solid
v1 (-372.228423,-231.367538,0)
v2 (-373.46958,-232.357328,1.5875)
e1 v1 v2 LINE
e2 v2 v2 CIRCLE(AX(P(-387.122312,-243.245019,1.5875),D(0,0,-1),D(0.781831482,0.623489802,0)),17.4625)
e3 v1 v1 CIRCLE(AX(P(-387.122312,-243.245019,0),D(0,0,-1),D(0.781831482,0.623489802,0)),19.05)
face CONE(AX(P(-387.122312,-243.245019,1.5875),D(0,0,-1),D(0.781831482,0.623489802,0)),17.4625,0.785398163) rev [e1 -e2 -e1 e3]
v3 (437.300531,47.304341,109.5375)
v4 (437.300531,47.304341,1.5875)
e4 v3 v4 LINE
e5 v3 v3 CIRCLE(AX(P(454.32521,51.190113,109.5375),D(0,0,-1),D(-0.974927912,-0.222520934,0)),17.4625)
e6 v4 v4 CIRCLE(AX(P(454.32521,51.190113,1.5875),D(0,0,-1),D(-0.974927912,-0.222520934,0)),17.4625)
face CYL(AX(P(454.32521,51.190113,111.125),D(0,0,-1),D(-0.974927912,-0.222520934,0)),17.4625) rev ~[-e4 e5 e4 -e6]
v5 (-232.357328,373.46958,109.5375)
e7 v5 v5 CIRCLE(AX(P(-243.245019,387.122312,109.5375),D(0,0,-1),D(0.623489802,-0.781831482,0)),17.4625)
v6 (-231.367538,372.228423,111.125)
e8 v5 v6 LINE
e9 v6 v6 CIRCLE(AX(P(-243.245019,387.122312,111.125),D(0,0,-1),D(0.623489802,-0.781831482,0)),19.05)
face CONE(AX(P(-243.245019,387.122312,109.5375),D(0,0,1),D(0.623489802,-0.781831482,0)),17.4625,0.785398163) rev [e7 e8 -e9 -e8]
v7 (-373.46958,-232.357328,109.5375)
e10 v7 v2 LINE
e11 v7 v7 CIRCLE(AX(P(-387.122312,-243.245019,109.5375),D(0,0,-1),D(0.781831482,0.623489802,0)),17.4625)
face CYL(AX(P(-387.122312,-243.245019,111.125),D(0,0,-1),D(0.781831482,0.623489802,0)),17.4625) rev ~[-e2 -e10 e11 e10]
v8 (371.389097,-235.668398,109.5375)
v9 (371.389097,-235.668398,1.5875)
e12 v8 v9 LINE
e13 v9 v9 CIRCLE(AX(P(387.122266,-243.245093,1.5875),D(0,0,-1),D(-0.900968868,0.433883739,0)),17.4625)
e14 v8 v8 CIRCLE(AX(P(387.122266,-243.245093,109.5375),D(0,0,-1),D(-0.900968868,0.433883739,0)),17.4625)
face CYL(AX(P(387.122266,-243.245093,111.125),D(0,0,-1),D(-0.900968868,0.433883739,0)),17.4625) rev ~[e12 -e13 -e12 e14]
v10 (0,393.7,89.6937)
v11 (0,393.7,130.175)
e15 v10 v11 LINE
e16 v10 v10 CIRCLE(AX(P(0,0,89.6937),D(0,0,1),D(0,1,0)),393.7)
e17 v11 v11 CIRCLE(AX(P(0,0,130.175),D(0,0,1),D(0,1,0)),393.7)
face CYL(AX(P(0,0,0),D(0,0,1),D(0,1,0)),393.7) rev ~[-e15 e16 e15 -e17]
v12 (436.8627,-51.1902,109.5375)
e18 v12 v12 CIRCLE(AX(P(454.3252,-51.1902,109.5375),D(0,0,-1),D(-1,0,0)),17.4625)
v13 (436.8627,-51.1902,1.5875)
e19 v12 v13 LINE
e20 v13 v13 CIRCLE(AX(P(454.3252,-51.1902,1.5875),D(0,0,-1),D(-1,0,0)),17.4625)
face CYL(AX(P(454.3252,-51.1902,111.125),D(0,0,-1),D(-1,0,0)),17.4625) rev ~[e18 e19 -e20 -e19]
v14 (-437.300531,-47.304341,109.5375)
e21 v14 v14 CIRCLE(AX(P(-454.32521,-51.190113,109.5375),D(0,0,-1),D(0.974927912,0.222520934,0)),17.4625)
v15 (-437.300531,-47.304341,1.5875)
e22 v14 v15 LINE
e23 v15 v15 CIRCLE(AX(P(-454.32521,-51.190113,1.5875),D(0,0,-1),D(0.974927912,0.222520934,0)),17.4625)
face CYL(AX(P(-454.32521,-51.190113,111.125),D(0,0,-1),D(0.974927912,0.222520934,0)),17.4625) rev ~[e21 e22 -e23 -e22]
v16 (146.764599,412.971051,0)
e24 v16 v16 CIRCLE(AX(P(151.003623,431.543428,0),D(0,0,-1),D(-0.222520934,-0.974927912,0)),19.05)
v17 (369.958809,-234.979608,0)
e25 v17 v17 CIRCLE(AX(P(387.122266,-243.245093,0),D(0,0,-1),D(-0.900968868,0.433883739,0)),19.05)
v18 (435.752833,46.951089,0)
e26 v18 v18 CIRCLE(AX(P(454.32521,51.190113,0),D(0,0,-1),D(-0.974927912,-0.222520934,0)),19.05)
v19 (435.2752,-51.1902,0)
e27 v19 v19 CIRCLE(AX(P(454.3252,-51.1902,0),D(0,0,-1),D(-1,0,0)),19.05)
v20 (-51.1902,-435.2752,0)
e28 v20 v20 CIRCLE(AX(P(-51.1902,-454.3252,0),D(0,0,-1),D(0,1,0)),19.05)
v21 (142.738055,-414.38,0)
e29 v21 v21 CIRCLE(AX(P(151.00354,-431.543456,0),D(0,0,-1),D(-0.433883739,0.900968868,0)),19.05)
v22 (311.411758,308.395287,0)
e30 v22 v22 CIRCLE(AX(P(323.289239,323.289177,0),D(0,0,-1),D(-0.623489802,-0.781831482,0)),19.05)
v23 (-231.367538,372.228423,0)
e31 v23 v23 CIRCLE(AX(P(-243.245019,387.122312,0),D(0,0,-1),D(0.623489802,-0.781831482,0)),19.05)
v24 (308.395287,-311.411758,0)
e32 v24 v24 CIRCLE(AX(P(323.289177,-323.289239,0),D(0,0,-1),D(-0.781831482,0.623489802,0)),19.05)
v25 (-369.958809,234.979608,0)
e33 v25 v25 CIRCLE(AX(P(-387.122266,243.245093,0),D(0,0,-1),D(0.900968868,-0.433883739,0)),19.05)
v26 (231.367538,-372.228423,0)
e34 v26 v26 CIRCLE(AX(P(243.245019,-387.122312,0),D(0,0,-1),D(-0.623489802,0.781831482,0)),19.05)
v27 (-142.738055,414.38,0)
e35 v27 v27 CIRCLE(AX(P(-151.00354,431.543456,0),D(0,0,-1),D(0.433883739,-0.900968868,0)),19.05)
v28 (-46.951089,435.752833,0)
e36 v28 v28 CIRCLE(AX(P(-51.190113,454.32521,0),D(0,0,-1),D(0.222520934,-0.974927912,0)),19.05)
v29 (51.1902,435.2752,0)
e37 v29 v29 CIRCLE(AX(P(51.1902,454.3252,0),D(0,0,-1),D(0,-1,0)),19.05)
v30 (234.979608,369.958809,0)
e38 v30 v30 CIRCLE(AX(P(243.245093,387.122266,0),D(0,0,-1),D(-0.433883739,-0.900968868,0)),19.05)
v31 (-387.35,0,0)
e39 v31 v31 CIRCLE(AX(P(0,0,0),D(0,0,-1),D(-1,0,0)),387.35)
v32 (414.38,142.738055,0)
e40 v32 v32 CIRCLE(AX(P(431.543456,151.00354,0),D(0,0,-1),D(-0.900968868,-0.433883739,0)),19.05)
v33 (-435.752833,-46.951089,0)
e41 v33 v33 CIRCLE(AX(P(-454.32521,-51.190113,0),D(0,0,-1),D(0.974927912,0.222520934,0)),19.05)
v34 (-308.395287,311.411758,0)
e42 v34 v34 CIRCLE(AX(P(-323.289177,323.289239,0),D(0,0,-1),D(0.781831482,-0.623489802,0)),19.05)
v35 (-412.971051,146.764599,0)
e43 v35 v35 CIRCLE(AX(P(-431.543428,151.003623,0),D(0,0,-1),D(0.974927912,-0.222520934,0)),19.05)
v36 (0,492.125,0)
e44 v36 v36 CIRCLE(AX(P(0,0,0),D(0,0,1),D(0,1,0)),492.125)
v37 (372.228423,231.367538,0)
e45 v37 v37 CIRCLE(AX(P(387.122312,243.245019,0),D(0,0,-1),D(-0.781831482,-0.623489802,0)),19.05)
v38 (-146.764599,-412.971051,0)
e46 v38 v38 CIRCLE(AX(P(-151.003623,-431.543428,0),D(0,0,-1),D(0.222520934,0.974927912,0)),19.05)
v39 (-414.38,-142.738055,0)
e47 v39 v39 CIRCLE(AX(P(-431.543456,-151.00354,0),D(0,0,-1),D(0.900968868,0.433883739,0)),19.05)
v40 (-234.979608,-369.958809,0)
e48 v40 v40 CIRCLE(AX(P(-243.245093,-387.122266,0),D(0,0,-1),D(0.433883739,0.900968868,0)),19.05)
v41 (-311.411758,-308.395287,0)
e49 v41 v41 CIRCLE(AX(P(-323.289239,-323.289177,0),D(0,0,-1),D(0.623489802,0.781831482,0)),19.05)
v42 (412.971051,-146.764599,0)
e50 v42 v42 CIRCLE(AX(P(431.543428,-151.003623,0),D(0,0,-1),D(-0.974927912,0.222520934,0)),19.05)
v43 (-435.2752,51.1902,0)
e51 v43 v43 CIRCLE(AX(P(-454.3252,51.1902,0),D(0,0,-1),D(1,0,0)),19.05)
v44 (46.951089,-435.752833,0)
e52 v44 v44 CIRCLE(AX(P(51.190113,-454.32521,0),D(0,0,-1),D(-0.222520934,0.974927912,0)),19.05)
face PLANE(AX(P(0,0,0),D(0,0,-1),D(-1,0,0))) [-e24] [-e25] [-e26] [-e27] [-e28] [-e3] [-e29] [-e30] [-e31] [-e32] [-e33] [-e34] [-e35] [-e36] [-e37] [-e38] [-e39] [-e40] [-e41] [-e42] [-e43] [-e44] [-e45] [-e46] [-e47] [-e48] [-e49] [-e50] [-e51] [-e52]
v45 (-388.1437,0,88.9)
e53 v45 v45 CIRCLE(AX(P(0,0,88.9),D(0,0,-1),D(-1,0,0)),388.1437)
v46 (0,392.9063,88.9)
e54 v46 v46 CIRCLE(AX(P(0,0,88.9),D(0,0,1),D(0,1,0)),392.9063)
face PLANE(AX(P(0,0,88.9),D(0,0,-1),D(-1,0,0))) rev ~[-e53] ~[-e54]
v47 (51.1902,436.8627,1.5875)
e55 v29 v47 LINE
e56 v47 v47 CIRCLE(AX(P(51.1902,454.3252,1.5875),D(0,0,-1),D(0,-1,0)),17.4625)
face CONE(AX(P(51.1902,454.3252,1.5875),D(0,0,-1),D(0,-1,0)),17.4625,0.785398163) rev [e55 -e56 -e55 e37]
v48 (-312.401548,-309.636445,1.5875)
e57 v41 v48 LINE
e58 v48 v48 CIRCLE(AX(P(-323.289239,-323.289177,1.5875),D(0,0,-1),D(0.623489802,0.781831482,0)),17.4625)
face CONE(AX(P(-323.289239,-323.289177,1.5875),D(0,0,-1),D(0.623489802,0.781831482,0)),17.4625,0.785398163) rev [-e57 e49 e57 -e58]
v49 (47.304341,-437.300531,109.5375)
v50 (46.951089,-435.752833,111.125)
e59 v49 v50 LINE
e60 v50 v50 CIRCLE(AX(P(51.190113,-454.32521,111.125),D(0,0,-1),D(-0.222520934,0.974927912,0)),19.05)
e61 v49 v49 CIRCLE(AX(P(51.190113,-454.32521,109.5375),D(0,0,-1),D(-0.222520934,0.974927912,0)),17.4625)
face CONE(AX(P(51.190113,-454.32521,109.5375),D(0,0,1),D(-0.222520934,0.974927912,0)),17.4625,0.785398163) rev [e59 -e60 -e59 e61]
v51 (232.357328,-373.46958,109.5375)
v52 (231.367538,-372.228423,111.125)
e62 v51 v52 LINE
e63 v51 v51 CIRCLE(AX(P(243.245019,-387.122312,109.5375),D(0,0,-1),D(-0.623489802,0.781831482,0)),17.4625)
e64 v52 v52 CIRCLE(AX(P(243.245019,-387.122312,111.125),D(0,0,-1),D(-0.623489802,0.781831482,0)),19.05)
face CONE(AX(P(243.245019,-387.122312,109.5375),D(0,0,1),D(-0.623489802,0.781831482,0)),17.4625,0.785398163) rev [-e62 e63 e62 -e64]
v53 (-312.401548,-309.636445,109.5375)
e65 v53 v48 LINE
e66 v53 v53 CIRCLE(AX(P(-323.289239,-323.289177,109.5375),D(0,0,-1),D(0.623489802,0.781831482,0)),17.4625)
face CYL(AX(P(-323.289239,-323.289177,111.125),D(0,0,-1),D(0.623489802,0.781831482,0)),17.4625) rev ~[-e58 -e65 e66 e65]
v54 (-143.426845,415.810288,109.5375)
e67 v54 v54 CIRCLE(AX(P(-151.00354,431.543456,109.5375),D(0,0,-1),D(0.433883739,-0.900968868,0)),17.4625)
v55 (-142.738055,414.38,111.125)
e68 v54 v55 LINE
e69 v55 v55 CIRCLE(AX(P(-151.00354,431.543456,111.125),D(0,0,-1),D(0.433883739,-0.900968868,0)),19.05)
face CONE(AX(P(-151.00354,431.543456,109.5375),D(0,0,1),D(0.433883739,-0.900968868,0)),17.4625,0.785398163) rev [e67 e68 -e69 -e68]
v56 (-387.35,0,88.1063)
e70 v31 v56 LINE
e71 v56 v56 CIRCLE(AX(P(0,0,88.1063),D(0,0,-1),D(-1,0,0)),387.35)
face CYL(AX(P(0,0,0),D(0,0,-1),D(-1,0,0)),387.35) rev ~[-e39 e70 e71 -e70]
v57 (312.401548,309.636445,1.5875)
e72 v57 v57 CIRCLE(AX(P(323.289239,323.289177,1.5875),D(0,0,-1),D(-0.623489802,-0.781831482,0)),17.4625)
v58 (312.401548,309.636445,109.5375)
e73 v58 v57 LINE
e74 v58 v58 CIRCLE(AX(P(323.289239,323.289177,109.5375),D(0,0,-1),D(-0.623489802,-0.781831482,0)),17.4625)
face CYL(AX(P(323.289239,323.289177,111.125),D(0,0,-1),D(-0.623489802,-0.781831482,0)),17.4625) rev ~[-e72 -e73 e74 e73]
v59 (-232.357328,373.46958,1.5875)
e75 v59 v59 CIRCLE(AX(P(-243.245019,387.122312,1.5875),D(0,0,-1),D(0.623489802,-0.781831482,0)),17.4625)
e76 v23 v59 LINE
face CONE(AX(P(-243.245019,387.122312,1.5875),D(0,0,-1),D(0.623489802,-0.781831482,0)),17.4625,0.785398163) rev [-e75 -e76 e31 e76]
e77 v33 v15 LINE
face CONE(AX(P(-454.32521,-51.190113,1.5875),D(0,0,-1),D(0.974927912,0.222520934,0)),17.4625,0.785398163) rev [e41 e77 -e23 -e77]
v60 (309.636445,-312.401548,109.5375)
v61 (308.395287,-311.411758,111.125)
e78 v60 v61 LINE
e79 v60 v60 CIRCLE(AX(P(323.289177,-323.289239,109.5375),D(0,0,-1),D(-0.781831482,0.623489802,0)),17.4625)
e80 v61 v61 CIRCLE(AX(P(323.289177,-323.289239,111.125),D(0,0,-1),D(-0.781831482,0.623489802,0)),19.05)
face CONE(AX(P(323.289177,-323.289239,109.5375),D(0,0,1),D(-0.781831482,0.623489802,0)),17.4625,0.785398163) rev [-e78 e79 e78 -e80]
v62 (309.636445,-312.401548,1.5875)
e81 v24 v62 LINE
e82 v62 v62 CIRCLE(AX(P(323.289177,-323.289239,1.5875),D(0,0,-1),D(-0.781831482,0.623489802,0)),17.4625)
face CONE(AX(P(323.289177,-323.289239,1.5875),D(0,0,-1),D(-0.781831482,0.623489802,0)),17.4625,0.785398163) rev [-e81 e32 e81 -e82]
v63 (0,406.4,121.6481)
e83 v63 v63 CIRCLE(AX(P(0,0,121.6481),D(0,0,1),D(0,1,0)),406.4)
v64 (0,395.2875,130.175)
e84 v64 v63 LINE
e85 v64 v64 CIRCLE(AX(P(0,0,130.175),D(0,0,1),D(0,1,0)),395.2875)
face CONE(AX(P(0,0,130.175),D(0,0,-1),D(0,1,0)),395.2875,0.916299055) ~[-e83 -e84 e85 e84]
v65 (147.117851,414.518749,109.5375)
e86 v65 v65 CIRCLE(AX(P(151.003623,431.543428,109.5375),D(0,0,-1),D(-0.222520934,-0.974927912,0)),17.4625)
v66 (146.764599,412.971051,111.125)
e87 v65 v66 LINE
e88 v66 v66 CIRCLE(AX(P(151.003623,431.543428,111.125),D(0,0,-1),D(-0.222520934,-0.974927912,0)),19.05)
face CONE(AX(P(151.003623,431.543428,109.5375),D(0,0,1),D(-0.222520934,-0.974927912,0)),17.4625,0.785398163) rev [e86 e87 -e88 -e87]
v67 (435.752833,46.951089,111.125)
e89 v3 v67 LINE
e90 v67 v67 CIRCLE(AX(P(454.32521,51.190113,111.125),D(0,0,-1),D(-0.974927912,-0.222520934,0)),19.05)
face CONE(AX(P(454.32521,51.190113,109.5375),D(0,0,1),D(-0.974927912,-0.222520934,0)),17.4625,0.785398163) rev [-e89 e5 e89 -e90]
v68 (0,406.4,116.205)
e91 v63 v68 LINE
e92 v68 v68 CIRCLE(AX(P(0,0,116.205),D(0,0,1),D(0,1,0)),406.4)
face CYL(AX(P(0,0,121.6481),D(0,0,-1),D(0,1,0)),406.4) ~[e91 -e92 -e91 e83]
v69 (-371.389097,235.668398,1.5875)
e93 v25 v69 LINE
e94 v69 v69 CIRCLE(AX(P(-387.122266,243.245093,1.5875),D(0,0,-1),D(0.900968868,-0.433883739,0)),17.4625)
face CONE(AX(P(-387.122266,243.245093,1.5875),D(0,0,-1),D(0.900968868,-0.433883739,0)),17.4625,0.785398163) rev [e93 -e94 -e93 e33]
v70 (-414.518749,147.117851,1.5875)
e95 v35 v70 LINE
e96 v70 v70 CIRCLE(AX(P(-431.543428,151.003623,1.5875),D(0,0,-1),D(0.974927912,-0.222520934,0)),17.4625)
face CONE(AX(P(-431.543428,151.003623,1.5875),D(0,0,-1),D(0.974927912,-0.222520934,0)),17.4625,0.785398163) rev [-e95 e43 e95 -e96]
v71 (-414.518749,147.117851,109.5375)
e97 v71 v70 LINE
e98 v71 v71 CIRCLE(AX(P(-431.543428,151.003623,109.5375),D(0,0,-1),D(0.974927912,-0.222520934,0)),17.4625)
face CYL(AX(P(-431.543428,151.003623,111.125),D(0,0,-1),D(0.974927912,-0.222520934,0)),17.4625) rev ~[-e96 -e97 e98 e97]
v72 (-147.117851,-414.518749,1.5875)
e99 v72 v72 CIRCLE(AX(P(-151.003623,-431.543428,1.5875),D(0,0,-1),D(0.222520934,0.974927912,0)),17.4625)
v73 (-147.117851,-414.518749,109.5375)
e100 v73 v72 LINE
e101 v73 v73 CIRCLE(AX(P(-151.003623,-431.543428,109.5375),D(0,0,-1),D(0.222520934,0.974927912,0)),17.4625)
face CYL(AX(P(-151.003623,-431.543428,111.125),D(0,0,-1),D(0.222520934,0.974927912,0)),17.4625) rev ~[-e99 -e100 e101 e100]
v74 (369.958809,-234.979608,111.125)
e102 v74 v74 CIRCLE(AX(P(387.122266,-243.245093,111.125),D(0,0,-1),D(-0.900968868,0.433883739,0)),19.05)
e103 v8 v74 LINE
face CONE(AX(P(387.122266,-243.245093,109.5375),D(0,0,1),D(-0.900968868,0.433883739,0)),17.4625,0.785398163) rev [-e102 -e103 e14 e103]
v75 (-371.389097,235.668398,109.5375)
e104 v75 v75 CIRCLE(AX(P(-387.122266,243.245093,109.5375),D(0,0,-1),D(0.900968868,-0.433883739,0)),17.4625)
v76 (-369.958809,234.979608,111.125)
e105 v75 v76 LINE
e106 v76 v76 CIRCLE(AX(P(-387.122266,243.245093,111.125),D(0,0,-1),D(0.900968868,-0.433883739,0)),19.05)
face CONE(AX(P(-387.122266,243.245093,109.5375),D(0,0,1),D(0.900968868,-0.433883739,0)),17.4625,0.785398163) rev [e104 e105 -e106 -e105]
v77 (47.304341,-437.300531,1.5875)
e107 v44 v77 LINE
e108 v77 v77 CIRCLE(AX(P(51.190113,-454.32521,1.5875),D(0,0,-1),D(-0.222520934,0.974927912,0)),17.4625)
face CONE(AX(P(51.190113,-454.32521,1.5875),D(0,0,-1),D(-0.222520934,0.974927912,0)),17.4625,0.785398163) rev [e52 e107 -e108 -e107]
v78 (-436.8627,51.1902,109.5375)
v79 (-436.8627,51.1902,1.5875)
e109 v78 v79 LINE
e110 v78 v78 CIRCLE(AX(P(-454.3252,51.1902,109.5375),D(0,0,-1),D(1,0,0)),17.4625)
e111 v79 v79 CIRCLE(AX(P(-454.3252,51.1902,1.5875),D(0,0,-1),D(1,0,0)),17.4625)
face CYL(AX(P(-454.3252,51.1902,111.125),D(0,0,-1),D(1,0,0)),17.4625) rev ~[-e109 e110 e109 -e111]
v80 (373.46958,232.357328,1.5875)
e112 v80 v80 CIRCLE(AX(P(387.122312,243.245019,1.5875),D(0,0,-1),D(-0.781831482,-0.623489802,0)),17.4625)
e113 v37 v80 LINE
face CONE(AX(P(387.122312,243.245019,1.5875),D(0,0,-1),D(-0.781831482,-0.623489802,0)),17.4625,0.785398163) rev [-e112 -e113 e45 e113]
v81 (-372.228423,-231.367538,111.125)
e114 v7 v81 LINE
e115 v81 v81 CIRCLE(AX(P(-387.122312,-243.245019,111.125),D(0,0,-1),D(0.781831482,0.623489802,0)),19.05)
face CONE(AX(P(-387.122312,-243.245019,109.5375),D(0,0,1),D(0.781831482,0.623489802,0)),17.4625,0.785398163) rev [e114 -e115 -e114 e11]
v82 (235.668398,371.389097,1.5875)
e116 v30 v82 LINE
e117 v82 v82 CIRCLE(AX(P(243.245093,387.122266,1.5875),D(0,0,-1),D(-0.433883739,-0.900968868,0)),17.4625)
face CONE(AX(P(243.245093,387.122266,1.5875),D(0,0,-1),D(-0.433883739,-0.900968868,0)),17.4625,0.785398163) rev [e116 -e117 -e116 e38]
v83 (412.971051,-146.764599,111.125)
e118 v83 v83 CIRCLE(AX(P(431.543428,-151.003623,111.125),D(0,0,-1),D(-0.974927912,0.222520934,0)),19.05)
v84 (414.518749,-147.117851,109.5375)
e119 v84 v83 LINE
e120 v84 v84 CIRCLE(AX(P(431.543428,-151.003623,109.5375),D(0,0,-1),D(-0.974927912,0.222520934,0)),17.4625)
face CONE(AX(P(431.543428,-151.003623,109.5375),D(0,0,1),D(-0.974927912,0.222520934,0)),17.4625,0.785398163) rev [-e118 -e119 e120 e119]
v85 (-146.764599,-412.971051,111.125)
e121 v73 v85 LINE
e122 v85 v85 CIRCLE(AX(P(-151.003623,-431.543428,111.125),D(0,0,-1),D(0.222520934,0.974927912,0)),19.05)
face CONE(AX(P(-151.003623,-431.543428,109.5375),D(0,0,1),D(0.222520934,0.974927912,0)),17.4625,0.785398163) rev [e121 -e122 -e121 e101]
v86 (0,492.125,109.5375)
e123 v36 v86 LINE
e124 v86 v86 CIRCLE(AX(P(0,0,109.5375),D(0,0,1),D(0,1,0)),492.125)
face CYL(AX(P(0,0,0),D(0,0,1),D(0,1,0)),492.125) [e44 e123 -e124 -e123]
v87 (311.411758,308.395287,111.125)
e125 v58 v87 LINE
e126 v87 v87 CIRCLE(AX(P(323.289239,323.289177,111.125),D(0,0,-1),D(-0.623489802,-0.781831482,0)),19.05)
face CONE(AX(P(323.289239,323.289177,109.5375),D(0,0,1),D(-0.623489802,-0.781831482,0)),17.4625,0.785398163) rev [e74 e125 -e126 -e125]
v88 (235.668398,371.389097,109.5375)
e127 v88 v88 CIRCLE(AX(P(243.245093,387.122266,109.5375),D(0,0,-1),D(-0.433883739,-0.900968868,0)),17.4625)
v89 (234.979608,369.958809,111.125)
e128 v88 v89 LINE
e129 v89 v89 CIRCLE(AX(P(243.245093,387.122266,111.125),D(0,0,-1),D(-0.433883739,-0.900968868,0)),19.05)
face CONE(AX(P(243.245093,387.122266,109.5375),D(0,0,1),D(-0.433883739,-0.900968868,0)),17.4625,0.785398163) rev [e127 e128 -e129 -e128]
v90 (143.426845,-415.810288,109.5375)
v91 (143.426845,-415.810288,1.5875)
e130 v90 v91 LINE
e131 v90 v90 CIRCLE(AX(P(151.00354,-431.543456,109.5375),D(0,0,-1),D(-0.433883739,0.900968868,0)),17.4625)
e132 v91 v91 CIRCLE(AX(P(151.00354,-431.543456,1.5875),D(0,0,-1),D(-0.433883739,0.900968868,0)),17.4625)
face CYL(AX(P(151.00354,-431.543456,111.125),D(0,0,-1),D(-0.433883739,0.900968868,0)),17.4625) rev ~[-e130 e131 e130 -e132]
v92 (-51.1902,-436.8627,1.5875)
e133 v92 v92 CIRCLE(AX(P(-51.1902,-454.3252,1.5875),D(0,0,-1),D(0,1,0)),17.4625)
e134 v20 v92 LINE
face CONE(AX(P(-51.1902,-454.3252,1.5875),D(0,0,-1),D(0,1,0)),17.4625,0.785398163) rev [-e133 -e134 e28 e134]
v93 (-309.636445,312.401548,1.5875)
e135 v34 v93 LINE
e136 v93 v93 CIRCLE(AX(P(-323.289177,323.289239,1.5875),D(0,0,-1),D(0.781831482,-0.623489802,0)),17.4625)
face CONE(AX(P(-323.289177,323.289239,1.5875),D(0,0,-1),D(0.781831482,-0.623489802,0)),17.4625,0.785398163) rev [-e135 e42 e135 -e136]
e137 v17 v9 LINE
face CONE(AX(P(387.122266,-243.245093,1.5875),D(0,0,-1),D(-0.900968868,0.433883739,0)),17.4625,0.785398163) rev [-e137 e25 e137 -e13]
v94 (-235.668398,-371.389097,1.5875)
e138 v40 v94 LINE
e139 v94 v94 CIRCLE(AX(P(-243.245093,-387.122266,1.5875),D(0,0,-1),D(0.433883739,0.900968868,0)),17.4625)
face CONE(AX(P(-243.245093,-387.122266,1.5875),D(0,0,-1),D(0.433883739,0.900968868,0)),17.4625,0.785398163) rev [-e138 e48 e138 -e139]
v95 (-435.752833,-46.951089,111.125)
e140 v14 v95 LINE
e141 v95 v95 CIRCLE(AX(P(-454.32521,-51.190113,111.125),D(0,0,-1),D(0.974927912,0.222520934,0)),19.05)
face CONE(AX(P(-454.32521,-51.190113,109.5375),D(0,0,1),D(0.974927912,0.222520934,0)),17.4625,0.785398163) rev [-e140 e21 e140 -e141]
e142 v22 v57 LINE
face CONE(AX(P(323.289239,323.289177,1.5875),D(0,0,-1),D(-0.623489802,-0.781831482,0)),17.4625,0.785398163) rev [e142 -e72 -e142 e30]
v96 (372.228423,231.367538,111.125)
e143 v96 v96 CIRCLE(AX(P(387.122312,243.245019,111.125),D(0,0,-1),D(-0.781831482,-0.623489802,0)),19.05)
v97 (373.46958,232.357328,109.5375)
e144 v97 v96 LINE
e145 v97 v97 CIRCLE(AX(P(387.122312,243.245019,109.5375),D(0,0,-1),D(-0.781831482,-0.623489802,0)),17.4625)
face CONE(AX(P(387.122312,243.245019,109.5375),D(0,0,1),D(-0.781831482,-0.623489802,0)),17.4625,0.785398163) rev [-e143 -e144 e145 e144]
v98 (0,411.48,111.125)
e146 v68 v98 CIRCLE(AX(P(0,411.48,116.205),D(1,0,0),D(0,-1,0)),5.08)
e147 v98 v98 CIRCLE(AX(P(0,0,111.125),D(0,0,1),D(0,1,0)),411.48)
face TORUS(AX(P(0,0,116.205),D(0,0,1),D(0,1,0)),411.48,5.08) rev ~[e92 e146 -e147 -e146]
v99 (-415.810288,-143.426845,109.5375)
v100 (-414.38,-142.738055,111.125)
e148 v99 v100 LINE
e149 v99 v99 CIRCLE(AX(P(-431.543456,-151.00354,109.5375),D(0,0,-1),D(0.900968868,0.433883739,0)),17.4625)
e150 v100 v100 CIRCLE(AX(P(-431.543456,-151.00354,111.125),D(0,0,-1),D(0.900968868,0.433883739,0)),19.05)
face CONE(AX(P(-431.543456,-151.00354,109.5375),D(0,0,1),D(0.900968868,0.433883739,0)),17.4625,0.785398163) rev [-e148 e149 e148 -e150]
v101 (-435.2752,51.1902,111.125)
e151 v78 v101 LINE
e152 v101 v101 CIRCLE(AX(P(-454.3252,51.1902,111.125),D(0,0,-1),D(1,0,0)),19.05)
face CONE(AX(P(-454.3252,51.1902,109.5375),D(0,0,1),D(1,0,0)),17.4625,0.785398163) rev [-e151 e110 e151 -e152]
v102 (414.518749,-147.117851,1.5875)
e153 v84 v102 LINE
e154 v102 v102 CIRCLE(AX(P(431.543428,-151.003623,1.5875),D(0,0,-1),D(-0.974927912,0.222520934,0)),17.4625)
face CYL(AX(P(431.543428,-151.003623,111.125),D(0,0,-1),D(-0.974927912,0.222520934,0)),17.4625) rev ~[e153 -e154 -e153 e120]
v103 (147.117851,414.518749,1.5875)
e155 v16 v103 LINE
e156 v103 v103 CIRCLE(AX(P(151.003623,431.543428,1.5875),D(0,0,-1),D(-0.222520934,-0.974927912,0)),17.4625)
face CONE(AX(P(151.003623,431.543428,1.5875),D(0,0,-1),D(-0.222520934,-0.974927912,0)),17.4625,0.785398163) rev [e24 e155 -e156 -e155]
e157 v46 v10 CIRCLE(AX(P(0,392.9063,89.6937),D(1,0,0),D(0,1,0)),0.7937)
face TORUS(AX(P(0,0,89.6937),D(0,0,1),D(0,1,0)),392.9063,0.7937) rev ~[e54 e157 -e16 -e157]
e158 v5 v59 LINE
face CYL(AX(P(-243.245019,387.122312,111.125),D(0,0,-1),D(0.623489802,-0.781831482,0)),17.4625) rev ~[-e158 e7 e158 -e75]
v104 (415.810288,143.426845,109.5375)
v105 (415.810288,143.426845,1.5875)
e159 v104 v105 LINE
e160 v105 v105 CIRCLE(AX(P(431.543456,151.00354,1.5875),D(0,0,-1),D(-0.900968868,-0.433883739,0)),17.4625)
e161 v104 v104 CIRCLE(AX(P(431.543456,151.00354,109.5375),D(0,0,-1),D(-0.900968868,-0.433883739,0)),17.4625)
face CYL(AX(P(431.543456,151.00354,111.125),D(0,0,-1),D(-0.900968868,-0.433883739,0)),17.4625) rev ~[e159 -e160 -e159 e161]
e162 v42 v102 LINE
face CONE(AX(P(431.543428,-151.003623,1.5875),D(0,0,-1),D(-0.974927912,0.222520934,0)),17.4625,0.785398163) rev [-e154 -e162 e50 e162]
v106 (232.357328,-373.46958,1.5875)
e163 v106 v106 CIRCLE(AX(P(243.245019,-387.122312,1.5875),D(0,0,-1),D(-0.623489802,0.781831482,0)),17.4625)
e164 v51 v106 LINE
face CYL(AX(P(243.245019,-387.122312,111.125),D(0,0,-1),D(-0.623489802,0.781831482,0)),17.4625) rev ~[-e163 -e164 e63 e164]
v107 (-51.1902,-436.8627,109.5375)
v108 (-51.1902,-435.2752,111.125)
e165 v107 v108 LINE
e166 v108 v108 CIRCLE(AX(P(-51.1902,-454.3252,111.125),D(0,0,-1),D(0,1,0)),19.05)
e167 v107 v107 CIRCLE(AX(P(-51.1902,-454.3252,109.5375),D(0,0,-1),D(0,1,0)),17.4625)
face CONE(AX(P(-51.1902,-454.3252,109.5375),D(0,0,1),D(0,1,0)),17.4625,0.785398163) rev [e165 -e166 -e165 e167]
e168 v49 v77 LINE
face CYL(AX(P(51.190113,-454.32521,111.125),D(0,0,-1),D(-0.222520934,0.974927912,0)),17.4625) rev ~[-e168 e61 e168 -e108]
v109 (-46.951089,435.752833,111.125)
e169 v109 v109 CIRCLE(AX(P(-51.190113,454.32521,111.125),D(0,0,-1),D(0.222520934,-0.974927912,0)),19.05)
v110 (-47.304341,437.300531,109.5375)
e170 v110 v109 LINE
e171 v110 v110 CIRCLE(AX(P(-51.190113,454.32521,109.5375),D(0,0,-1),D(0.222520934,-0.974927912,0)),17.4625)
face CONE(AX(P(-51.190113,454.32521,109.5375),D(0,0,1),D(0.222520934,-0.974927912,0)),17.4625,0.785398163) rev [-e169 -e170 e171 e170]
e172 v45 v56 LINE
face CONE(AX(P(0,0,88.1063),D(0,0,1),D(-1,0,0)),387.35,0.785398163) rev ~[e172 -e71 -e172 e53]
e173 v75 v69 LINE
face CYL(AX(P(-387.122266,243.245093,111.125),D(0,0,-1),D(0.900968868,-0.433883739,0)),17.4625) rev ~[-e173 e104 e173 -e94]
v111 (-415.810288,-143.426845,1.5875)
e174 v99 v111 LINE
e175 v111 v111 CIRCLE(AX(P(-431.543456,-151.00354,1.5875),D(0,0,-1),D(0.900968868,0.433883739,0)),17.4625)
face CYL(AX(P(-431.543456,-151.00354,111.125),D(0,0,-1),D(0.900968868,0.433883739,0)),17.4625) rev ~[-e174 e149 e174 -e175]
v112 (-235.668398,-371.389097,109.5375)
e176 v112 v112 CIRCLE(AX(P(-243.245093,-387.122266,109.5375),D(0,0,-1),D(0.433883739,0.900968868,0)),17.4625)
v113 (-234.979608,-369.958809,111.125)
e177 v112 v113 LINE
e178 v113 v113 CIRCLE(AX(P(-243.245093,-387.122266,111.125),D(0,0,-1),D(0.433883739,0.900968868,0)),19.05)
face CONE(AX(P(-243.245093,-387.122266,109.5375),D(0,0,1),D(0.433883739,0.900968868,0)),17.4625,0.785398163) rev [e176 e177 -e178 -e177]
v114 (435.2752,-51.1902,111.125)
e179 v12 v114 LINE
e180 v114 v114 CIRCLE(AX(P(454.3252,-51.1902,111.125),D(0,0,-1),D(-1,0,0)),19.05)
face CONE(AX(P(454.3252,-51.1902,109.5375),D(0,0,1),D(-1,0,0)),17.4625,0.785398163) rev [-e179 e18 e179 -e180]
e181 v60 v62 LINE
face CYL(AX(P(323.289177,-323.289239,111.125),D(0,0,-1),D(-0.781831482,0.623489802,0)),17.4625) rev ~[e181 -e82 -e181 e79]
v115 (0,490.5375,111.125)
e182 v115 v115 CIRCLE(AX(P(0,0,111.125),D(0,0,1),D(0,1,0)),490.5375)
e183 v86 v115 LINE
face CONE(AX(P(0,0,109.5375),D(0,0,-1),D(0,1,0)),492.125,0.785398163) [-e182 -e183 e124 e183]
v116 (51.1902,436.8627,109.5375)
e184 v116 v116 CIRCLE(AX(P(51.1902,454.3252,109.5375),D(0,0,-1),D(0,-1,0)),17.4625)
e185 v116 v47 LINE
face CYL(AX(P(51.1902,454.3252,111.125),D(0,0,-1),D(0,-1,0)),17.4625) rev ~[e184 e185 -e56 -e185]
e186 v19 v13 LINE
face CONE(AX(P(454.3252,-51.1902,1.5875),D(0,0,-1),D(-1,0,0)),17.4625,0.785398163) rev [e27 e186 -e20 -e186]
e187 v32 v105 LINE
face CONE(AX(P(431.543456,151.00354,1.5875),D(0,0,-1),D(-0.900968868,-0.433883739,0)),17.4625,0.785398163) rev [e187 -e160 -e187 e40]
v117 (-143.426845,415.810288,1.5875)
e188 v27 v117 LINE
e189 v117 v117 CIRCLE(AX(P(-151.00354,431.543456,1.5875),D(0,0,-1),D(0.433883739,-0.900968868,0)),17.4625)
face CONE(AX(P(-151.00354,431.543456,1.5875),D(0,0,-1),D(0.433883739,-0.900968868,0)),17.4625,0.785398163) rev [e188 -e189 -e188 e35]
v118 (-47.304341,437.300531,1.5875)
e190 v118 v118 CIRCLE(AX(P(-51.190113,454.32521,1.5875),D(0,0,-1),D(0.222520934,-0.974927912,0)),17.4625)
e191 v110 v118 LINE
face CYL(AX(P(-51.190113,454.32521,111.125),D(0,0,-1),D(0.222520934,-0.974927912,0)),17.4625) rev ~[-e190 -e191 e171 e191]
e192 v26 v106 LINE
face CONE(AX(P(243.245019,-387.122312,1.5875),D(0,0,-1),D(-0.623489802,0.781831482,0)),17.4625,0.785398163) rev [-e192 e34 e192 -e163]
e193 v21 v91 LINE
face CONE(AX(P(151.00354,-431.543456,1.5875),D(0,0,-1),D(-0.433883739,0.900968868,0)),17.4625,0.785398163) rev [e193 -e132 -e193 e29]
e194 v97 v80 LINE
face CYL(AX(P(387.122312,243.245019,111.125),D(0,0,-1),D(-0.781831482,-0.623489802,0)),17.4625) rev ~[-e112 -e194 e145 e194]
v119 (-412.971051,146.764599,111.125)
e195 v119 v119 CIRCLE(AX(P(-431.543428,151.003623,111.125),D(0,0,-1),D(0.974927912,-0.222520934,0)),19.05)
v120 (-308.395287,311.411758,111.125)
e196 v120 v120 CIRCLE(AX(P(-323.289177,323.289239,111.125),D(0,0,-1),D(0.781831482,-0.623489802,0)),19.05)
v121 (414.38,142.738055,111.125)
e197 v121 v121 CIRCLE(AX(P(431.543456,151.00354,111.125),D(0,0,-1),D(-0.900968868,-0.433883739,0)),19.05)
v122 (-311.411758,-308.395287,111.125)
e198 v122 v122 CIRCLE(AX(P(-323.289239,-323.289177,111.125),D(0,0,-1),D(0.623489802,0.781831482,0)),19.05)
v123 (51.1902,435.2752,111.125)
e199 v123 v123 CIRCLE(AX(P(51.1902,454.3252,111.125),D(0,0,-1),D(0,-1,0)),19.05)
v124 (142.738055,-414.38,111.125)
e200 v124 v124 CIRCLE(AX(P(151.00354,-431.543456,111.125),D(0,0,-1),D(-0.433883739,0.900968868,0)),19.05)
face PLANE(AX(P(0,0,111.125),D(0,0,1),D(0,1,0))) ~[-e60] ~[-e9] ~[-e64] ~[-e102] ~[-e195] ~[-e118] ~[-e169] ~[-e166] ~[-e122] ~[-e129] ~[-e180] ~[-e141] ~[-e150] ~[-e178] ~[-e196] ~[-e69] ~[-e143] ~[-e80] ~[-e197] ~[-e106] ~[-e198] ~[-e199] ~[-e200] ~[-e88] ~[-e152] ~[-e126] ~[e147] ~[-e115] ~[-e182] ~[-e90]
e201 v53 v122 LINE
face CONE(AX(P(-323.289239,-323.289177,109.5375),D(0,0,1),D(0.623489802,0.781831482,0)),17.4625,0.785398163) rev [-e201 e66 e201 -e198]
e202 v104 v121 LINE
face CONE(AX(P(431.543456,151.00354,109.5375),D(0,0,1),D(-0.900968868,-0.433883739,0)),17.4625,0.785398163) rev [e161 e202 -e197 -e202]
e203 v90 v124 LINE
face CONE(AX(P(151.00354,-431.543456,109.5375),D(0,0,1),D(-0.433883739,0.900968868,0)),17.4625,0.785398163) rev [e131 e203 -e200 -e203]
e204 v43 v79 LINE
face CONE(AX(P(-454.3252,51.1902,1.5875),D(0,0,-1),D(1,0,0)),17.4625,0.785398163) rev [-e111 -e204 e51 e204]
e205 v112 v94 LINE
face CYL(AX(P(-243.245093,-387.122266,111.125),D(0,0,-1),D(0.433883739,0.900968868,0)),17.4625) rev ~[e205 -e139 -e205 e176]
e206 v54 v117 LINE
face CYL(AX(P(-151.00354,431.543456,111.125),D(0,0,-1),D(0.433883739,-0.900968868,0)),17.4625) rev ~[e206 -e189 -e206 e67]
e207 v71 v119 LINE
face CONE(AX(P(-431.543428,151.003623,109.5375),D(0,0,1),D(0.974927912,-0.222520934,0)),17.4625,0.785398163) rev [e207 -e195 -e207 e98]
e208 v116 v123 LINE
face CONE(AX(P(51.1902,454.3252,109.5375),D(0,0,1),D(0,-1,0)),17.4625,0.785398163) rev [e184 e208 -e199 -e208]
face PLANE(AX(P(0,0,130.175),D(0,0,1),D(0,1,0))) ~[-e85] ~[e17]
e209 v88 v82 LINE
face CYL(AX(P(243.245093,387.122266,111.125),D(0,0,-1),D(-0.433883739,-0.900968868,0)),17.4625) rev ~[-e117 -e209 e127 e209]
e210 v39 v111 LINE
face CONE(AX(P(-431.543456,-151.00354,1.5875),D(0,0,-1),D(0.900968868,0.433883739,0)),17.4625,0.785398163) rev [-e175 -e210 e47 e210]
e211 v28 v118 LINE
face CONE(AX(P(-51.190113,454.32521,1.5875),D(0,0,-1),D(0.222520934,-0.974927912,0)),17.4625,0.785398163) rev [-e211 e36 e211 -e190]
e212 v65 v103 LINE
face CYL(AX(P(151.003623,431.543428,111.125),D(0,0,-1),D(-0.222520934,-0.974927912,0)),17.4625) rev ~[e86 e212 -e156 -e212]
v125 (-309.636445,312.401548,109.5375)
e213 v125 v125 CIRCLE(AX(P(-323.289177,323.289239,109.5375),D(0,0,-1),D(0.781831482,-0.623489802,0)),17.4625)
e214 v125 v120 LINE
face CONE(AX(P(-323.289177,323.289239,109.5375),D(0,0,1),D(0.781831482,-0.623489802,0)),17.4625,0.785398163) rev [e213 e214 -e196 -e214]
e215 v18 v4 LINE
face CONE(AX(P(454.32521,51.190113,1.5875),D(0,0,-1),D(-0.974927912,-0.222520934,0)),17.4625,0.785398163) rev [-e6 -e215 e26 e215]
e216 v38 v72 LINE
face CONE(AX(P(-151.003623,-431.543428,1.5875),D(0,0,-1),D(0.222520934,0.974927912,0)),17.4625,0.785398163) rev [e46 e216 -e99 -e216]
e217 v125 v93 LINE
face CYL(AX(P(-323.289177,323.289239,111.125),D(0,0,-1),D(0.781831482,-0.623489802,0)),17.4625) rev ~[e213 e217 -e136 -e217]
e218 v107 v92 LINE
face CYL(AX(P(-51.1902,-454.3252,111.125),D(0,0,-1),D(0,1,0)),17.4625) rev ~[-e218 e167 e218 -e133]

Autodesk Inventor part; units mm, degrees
ref_plane "YZ Plane" through (0, 0, 0) normal (1, 0, 0) x (0, 1, 0)
ref_plane "XZ Plane" through (0, 0, 0) normal (0, 1, 0) x (-1, 0, 0)
ref_plane "XY Plane" through (0, 0, 0) normal (0, 0, 1) x (1, 0, 0)
sketch "Sketch1" plane through (0, 0, 0) normal (1, 0, 0) x (0, 1, 0)
  line L0 (0, 0) -> (0, 130.175)
  line L1 (428.625, 0) -> (393.7, 0)
  line L2 (393.7, 0) -> (393.7, 130.175)
  line L3 (393.7, 130.175) -> (395.2875, 130.175)
  line L4 (395.2875, 130.175) -> (406.4, 121.6481)
  line L5 (406.4, 121.6481) -> (406.4, 116.205)
  arc A0 (406.4, 116.205) -> (411.48, 111.125) centre (411.48, 116.205) ccw
  line L6 (411.48, 111.125) -> (492.125, 111.125)
  line L7 (492.125, 111.125) -> (492.125, 1.5875)
  line L8 (492.125, 1.5875) -> (428.625, 1.5875) construction
  line L9 (428.625, 1.5875) -> (428.625, 0) construction
  line L10 (428.625, 0) -> (492.125, 0)
  line L11 (492.125, 0) -> (492.125, 1.5875)
  point P0 (406.4, 111.125)
  dimension "d0" = 130.175
  dimension "d1" = 984.25
  dimension "d2" = 111.125
  dimension "d3" = 857.25
  dimension "d4" = 1.5875
  dimension "d5" = 812.8
  dimension "d6" = 787.4
  dimension "d7" = 812.8
  dimension "d8" = 37.5
  dimension "d9" = 11.1125
  dimension "d10" = 5.08
revolve "Revolution1" add sketch "Sketch1" angle 360 about axis through (0, 0, 0) along (0, 0, 1)
sketch "Sketch2" plane through (0, 0, 111.125) normal (0, 0, 1) x (1, 0, 0)
  line L0 (0, -688.975) -> (0, 688.975) construction
  line L1 (-51.1902, -454.3252) -> (51.1902, 454.3252) construction
  point P0 (0, 0)
  dimension "d12" = 914.4
  dimension "d13" = 6.429
hole "Hole1" at (51.1902, 454.3252, 111.125) direction (0, 0, -1) diameter 34.925 end through all
chamfer "Chamfer1" distance 1.5875 angle 45 2 edges at (51.1902, 471.7877, 111.125) (51.1902, 471.7877, 0)
pattern_circular "Circular Pattern1" count 28 over 360 about axis through (0, 0, -10) along (0, 0, 1) of "Hole1", "Chamfer1"
chamfer "Chamfer2" distance 1.5875 angle 45 1 edges at (0, -492.125, 111.125)
sketch "Sketch3" plane through (0, 0, 0) normal (0, 0, -1) x (-1, 0, 0)
  circle A0 centre (0, 0) radius 393.7 projected
  circle A1 centre (0, 0) radius 387.35
  dimension "d30" = 774.7
extrude "Extrusion1" add sketch "Sketch3" against normal blind 88.9
fillet "Fillet1" radius 0.7937 1 edges at (0, -393.7, 88.9)
chamfer "Chamfer3" distance 0.7937 angle 45 1 edges at (387.35, 0, 88.9)
equation "\"d0\" = Length"
equation "\"d1\" = OutsideDiameter"
equation "\"d2\" = Thickness"
equation "\"d3\" = RFDiameter"
equation "\"d4\" = RFThickness"
equation "\"d5\" = CasingDiameter"
equation "\"d6\" = Bore"
equation "\"d7\" = HubDiameter"
equation "\"d8\" = WeldBevelAngle"
equation "\"d9\" = WeldBevelSize"
equation "\"d10\" = HubRadius"
equation "\"d12\" = BCD"
equation "\"d14\" = HoleDiameter"
equation "\"d21\" = HoleChamfer"
equation "\"d27\" = RimChamfer"
equation "\"OutsideDiameter\" = 984.25"
equation "\"Thickness\" = 111.125"
equation "\"Length\" = 130.175"
equation "\"RFDiameter\" = 857.25"
equation "\"CasingDiameter\" = 812.8"
equation "\"Bore\" = 787.4"
equation "\"HoleDiameter\" = 34.925"
equation "\"BCD\" = 914.4"
equation "\"RFThickness\" = 1.5875"
equation "\"WeldBevelAngle\" = 37.5deg"
equation "\"HubDiameter\" = CasingDiameter"
equation "\"HoleChamfer\" = 1.5875"
equation "\"RimChamfer\" = 1.5875"
equation "\"HubRadius\" = 5.08"
equation "\"WeldBevelSize\" = 11.1125"
properties part number "A1-19027-300-03 Alco flange - 30in CL150" material "Steel, Mild"
